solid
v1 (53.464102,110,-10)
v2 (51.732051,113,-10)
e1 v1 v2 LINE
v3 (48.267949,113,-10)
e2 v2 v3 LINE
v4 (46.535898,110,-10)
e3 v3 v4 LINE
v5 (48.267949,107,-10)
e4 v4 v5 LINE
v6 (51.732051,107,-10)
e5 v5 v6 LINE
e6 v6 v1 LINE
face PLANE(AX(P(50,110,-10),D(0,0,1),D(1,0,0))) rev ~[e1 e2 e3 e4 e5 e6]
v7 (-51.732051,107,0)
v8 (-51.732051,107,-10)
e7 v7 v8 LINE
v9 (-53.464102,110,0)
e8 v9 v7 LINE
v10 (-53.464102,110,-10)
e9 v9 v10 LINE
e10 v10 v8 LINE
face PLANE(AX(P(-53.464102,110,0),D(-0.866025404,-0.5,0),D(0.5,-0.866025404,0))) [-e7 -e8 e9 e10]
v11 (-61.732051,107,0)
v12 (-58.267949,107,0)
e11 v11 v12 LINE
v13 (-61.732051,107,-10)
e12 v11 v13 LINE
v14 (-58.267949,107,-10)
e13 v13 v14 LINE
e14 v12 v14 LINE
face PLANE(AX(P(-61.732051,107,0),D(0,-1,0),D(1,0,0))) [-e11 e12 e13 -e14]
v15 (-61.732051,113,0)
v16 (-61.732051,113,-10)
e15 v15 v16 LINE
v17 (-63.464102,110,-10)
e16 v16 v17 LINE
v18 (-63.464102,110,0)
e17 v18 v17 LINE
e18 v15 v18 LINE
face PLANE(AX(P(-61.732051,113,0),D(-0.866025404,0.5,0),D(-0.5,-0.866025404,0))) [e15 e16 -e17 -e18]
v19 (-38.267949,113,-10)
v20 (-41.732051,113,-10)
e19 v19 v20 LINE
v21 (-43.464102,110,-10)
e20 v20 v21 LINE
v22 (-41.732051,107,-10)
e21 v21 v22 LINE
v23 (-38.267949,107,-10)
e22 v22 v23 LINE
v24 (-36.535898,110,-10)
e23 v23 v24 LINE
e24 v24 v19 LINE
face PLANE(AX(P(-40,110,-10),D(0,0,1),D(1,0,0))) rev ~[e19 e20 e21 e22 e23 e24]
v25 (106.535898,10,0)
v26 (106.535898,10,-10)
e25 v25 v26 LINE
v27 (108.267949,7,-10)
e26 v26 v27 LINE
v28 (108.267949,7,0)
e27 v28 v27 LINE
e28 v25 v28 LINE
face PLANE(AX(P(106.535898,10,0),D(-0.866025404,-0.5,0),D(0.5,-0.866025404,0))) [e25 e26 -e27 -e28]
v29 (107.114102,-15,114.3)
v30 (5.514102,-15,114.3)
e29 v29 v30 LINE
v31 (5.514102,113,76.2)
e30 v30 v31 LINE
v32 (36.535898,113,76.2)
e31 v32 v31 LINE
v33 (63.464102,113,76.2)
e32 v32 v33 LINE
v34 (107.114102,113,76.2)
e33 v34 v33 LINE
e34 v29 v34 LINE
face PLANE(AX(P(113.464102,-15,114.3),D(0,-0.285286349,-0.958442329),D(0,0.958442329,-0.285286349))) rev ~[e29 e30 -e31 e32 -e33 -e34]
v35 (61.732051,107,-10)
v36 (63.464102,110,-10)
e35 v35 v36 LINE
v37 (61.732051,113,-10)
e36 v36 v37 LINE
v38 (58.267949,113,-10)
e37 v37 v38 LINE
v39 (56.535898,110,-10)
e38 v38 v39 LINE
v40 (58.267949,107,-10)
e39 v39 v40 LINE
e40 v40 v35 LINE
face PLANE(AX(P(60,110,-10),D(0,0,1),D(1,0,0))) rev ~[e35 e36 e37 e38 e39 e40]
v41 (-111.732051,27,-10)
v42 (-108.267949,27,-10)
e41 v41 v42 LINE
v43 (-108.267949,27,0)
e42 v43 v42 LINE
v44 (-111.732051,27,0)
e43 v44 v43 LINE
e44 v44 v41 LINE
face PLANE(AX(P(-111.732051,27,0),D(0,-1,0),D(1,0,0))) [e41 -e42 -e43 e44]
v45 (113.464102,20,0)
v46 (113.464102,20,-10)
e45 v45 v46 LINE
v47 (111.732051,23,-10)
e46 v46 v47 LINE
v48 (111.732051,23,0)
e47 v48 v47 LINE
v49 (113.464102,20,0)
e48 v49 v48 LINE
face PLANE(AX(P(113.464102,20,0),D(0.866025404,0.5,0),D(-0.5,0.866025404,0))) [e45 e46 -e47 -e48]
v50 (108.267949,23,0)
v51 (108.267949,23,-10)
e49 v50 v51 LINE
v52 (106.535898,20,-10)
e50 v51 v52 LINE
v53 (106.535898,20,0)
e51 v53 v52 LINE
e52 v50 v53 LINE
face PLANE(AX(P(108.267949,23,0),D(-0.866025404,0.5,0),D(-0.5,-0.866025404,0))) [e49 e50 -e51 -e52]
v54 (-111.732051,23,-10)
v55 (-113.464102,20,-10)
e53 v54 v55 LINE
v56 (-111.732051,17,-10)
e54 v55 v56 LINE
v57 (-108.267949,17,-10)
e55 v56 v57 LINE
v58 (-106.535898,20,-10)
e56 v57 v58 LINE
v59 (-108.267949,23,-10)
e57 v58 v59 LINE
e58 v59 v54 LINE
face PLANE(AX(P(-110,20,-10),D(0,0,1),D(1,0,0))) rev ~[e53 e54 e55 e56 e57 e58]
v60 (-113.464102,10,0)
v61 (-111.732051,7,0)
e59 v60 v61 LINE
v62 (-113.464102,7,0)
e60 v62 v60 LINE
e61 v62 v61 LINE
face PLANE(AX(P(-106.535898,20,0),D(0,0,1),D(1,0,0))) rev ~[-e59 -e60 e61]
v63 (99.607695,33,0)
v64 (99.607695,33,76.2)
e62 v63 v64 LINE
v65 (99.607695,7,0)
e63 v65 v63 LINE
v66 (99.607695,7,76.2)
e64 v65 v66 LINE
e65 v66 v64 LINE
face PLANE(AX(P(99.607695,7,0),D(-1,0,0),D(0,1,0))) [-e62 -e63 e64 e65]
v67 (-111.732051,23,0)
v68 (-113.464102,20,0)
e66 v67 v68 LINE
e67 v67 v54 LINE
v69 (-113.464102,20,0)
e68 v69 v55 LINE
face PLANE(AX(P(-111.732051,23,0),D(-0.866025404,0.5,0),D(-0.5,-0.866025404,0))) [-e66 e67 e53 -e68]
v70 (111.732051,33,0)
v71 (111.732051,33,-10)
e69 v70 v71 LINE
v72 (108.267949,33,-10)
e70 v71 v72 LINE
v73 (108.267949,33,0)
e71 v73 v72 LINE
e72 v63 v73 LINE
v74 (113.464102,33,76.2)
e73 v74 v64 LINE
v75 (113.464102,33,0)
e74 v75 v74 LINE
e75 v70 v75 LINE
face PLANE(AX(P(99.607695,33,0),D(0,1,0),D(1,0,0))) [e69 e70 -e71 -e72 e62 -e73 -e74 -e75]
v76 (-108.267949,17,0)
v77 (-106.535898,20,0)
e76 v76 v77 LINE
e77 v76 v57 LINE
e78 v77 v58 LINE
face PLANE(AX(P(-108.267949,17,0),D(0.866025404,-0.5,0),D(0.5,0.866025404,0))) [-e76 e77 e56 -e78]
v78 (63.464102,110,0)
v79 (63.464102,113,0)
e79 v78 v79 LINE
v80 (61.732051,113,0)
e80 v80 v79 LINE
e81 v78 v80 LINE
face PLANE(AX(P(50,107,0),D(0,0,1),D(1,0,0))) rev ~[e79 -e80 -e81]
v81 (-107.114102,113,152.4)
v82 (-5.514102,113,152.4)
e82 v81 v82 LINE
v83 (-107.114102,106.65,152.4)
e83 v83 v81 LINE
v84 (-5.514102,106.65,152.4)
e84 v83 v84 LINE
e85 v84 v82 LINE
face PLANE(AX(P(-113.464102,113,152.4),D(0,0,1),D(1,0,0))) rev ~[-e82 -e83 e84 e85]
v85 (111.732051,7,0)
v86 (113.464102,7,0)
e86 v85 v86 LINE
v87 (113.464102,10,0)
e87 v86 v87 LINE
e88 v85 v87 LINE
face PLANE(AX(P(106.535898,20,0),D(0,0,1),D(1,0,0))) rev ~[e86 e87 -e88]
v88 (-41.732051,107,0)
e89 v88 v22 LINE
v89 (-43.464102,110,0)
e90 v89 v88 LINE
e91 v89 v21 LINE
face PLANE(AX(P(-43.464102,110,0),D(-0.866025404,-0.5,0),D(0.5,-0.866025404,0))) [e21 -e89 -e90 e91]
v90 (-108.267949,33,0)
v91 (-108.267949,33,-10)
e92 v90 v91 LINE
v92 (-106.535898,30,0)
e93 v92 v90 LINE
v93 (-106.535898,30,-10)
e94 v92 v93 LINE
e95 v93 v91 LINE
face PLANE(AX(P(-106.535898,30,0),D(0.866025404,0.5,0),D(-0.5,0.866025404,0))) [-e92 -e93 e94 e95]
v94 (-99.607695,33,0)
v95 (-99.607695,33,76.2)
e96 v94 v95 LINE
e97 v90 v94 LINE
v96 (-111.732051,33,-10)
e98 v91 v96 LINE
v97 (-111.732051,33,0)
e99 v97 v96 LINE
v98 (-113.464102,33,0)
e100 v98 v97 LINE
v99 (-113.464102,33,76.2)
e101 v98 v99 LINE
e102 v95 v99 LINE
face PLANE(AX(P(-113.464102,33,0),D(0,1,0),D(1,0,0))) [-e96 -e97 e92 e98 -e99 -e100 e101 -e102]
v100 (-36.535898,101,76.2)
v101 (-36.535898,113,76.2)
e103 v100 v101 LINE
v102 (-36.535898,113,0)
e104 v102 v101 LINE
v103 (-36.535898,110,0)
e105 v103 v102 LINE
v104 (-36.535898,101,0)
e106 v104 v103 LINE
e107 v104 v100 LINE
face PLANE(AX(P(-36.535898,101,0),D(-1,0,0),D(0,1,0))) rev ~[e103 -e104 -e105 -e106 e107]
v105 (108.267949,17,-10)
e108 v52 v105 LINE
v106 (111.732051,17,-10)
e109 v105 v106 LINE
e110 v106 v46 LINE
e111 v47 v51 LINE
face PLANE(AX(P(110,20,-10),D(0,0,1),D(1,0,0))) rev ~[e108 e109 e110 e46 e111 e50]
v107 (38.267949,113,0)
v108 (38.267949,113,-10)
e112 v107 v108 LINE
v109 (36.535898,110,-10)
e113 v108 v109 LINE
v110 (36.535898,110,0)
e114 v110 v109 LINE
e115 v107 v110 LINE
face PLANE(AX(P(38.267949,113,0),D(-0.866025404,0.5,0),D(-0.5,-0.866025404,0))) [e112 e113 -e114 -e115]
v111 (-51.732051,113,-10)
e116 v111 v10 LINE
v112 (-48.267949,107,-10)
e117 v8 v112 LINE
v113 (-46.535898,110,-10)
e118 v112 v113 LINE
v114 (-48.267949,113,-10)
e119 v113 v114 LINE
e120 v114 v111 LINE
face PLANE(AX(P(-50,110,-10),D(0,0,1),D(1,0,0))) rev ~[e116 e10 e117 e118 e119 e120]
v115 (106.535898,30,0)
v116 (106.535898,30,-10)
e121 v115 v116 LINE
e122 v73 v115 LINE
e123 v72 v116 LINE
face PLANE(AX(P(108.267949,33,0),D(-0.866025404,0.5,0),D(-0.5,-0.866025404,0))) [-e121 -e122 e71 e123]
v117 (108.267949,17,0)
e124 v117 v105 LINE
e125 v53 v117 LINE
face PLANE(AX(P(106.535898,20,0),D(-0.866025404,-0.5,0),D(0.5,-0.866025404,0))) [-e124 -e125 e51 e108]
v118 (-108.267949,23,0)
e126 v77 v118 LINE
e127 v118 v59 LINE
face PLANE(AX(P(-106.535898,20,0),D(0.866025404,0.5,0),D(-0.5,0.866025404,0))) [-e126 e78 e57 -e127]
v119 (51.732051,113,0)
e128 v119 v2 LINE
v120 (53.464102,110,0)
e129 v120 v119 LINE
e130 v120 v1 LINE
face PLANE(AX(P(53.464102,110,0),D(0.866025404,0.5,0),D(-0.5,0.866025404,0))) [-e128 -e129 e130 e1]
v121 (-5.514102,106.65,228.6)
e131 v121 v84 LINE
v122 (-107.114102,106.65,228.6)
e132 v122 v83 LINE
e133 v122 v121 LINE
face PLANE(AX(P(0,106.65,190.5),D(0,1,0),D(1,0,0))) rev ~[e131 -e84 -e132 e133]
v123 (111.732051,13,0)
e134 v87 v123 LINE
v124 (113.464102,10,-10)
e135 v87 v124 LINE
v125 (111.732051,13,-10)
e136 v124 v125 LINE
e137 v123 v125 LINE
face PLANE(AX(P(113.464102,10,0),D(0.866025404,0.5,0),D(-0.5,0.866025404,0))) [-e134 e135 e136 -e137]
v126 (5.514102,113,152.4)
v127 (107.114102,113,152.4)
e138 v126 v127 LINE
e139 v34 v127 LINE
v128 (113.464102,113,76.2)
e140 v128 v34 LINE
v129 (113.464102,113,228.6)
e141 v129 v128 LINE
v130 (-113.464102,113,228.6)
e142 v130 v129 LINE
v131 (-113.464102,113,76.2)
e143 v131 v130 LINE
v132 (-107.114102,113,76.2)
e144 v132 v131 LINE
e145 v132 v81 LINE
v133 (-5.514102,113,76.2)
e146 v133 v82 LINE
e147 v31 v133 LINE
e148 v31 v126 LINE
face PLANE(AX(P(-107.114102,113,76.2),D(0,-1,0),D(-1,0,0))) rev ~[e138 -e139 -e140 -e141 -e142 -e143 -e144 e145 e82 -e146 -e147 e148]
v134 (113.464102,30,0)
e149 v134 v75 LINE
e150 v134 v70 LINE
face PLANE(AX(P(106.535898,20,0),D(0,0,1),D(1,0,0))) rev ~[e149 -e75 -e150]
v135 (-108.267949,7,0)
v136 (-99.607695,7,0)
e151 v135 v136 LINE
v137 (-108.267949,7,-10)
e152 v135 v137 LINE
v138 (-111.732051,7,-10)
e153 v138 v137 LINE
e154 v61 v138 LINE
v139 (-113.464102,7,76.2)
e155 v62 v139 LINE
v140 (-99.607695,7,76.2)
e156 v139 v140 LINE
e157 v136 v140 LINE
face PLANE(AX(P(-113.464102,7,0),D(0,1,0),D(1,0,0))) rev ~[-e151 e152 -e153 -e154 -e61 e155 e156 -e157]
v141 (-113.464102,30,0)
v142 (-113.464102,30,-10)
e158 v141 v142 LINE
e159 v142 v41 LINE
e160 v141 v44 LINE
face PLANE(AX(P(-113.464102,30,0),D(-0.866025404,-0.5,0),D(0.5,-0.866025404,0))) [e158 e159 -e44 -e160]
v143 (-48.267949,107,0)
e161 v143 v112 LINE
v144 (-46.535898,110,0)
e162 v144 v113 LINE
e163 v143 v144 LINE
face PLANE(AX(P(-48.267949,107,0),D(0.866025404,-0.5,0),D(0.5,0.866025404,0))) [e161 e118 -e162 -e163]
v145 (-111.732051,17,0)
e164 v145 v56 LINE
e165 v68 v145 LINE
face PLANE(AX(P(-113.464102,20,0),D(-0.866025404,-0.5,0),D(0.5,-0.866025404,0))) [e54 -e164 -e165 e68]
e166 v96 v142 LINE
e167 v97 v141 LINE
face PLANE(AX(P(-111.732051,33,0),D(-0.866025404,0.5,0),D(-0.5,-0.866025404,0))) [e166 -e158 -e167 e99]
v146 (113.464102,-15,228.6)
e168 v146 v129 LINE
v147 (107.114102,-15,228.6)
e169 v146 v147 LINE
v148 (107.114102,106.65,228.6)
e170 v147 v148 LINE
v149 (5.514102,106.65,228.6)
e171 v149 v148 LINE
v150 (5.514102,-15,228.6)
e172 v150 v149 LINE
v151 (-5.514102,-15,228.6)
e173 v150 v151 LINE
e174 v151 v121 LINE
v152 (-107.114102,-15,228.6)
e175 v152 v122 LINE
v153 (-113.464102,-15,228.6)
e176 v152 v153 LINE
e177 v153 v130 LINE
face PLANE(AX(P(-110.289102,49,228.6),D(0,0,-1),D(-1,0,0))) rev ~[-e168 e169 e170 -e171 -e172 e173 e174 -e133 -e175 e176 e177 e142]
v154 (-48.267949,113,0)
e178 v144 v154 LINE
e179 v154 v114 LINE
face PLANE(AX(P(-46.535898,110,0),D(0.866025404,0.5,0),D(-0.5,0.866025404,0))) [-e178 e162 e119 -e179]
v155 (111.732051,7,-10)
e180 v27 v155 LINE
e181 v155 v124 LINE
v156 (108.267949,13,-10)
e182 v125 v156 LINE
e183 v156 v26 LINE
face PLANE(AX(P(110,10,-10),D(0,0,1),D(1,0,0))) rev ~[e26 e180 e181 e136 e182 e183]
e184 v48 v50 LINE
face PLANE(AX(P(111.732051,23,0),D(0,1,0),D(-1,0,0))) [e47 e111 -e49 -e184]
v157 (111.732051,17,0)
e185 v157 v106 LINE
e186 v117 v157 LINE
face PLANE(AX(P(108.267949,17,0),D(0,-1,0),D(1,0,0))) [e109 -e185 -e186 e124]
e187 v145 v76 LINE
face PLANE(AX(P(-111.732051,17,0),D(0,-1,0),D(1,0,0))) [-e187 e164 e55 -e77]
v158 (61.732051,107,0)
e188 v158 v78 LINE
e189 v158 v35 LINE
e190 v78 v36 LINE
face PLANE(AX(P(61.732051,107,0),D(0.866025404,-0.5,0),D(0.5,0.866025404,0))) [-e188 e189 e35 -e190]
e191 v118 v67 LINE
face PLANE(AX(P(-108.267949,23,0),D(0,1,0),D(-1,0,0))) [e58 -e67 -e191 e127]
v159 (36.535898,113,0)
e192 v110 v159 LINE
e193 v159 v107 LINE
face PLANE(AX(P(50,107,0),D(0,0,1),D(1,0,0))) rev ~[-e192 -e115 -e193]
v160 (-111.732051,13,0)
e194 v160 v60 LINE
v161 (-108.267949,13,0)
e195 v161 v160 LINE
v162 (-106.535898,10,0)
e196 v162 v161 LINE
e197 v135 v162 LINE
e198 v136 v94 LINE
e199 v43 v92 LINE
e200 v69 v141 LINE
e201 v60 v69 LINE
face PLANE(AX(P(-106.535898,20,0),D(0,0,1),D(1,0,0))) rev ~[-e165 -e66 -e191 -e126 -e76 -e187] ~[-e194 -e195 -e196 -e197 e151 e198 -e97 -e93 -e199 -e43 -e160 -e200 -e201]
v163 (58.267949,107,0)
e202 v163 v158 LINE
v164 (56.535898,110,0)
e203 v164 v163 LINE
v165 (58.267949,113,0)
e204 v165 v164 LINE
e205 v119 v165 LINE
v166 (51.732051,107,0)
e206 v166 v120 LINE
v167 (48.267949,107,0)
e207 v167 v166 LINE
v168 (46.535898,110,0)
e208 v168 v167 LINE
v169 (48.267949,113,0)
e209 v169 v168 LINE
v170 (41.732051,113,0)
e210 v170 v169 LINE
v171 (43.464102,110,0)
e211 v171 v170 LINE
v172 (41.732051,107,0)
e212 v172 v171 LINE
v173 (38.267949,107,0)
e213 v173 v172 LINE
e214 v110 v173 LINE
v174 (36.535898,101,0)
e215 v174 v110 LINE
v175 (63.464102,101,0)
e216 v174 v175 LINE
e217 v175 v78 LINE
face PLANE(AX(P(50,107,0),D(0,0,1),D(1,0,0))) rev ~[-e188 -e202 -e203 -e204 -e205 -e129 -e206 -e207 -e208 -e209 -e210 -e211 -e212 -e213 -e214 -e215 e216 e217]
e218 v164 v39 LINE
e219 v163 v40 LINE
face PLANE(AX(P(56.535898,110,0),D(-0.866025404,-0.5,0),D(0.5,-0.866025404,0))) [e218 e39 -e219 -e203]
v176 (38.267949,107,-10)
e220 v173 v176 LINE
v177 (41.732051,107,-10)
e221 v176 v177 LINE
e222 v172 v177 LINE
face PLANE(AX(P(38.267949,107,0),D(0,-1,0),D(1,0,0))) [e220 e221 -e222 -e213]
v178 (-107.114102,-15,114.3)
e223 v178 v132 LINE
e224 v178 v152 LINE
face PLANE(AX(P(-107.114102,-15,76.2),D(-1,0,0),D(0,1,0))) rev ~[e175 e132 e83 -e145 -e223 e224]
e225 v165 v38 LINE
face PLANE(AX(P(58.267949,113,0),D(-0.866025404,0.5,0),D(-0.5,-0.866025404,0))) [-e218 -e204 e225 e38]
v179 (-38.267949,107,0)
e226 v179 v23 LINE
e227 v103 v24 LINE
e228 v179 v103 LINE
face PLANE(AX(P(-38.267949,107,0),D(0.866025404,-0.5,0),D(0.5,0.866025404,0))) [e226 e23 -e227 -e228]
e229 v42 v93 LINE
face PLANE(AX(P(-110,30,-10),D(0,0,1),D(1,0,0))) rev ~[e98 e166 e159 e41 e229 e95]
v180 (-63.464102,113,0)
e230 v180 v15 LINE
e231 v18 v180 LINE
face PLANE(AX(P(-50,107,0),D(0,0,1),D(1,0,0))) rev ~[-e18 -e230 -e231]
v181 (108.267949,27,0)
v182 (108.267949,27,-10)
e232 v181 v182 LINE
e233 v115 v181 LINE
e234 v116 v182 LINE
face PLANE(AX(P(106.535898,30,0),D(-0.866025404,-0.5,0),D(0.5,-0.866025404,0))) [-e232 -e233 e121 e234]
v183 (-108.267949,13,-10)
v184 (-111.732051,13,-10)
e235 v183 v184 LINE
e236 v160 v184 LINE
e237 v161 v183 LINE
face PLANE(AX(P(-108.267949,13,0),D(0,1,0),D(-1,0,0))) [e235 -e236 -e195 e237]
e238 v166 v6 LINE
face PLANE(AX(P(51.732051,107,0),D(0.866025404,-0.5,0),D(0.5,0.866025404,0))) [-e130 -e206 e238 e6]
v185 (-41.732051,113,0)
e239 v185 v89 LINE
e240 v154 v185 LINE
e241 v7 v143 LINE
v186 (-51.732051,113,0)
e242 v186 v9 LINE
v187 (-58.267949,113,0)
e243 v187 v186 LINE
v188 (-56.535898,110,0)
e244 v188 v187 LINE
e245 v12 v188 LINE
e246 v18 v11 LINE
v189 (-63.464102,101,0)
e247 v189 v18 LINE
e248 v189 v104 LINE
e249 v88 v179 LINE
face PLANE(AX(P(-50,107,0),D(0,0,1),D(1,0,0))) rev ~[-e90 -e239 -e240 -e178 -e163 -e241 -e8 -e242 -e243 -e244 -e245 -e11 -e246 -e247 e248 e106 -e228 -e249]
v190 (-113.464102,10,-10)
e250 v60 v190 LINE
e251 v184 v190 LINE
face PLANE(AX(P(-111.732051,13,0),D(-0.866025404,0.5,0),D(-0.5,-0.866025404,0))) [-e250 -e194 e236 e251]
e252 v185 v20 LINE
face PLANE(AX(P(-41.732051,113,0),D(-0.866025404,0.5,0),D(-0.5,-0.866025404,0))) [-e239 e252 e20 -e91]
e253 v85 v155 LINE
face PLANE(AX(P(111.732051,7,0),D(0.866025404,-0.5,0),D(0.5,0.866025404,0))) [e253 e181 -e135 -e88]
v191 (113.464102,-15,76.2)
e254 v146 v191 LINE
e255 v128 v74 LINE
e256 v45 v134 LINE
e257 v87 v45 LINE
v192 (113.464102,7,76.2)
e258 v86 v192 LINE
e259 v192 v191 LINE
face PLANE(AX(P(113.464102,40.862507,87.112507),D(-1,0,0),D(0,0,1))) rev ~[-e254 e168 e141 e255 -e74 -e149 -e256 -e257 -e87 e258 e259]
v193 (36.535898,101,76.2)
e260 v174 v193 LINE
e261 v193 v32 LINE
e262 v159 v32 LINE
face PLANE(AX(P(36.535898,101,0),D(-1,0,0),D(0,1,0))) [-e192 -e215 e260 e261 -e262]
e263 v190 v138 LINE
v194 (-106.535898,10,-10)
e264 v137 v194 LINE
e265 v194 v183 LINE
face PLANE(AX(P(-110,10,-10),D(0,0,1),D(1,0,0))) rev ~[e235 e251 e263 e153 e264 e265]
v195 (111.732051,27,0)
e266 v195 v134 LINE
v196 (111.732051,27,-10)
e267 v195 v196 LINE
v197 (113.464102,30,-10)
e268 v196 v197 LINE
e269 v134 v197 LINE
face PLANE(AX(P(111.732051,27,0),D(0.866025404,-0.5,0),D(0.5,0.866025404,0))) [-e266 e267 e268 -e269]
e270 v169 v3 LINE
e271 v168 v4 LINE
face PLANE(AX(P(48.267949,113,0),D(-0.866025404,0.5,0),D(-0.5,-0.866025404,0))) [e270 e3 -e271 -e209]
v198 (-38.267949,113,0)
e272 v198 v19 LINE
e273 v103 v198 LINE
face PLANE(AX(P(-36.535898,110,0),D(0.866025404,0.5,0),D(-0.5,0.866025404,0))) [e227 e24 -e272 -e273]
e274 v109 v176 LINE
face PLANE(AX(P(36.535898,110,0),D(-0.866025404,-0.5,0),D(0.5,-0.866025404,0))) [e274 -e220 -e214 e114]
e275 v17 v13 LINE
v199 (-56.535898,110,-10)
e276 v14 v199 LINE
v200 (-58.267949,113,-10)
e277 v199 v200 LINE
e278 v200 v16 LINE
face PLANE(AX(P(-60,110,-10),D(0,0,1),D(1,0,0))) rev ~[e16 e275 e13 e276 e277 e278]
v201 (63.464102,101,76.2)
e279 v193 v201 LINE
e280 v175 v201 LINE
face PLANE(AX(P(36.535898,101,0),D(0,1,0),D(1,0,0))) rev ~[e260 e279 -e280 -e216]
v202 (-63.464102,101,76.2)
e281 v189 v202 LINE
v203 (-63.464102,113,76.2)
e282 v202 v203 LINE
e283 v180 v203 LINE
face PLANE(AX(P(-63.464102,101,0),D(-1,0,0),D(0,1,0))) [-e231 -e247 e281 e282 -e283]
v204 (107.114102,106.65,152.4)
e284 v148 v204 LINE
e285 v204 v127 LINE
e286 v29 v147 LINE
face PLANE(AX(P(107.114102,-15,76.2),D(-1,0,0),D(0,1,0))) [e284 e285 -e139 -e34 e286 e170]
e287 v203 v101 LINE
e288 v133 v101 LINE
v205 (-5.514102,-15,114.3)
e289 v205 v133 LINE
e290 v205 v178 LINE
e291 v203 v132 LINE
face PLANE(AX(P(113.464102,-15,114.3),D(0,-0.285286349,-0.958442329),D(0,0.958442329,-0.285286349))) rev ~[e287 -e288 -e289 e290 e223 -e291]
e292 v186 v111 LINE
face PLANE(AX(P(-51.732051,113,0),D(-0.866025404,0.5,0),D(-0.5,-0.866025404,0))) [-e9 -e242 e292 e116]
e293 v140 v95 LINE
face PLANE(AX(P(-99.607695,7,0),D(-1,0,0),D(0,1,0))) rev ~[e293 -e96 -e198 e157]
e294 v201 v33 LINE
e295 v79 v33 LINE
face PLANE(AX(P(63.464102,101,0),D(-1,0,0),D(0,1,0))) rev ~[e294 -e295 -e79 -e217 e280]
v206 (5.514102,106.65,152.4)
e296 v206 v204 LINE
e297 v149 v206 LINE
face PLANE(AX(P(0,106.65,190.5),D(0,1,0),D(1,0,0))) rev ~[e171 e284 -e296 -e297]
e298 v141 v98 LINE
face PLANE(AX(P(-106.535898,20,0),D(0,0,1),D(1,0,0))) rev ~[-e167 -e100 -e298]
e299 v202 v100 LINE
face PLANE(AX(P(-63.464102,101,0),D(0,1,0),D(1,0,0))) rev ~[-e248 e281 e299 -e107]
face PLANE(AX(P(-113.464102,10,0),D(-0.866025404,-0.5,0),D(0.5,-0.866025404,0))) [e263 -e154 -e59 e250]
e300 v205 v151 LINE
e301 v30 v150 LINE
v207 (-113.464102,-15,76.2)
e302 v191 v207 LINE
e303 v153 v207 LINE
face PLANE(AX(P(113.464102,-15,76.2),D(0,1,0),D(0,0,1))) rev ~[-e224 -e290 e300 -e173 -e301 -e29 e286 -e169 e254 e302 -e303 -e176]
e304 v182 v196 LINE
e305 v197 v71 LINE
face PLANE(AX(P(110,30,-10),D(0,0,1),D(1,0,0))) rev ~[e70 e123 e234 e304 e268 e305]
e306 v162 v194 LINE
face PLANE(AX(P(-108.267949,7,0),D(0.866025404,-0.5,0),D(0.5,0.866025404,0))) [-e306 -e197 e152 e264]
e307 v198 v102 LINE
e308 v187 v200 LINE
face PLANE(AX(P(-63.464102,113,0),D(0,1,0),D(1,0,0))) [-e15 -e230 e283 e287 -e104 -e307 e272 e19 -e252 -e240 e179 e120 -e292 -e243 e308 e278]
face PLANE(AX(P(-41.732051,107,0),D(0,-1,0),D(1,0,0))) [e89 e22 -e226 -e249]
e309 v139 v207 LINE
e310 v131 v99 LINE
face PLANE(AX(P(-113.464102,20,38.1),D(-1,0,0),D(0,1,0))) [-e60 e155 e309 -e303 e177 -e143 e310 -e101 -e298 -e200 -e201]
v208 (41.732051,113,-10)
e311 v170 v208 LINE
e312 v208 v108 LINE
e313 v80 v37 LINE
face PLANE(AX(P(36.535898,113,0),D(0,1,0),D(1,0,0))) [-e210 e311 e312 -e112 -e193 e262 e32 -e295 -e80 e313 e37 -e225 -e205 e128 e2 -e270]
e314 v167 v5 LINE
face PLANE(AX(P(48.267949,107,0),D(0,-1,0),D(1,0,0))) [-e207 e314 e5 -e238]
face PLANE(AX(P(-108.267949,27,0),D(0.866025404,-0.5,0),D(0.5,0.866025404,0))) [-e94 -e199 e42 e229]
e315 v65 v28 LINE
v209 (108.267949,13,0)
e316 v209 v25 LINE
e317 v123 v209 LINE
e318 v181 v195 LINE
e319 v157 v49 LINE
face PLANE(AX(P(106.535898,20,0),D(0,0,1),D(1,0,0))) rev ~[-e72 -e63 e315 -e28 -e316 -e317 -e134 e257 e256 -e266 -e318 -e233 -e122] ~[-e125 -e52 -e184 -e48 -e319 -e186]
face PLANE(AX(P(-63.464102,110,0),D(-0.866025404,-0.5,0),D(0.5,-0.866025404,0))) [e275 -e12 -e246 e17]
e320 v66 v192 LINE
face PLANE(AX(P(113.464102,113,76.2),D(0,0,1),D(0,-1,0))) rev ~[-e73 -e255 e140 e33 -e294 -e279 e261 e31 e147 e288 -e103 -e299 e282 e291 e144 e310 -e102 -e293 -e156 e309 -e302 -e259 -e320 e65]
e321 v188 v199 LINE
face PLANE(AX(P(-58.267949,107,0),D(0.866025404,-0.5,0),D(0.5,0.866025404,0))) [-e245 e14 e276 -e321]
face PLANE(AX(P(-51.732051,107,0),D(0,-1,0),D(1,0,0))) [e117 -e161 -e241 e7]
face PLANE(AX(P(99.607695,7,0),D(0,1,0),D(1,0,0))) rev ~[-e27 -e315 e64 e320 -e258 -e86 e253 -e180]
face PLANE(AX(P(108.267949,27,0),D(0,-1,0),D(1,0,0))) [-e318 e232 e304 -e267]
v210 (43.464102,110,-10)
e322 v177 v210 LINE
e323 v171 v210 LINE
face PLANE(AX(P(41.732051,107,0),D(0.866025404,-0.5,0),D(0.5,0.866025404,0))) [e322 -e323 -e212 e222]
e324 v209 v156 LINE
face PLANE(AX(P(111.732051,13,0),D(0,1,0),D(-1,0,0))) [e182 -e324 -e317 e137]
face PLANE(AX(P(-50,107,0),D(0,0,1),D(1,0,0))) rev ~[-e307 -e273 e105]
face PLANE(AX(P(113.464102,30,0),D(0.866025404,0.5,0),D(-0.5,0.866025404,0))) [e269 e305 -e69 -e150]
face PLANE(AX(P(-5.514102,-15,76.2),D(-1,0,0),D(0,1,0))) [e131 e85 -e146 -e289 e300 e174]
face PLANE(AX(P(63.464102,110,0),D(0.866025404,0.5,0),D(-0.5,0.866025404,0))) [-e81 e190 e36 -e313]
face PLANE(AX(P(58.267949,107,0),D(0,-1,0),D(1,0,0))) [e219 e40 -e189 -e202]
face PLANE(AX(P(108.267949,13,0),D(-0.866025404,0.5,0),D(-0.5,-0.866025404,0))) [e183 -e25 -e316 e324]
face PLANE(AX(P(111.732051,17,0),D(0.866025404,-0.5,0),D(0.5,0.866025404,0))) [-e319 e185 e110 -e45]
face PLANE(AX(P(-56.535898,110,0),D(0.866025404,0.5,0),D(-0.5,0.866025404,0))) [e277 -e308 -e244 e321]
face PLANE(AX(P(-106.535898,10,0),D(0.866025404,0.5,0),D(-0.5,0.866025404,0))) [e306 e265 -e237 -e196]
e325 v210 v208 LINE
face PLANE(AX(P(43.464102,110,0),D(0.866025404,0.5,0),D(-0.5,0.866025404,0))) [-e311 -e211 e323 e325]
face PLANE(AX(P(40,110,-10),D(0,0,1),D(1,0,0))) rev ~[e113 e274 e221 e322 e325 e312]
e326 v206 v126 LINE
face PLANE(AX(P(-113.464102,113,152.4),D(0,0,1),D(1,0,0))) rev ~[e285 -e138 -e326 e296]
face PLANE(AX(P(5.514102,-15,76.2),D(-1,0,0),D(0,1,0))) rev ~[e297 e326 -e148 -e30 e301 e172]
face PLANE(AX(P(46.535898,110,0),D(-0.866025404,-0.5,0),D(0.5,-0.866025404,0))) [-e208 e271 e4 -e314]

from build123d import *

# Parameters (mm, degrees)
BOSS_EXTRUDE5_DEPTH    = 10
BOSS_EXTRUDE5_2_DEPTH  = 10
BOSS_EXTRUDE5_3_DEPTH  = 10
BOSS_EXTRUDE5_4_DEPTH  = 10
BOSS_EXTRUDE5_5_DEPTH  = 10
BOSS_EXTRUDE5_6_DEPTH  = 10
BOSS_EXTRUDE5_7_DEPTH  = 10
BOSS_EXTRUDE5_8_DEPTH  = 10
BOSS_EXTRUDE5_9_DEPTH  = 10
BOSS_EXTRUDE5_10_DEPTH = 10
BOSS_EXTRUDE5_11_DEPTH = 10
BOSS_EXTRUDE5_12_DEPTH = 10
SKETCH5_W              = 13.85640646
SKETCH5_H              = 26
SKETCH5_W_2            = 26.92820323
SKETCH5_H_2            = 12
BOSS_EXTRUDE8_DEPTH    = 76.2
BOSS_EXTRUDE9_REACH    = 266.711
SKETCH9_W              = 6.35
SKETCH9_H              = 128.000000074
SKETCH9_W_2            = 11.02820323
BOSS_EXTRUDE10_DEPTH   = 152.4
SKETCH11_W             = 226.92820323
SKETCH11_H             = 76.2
BOSS_EXTRUDE11_DEPTH   = 6.35


with BuildPart() as part:
    # Sketch2 → Boss-Extrude5 (new body)
    with BuildSketch(Plane.XY):
        Polygon((-111.732050808, 13), (-113.464101615, 10), (-111.732050808, 7), (-108.267949192, 7), (-106.535898385, 10), (-108.267949192, 13), align=None)
    extrude(amount=-BOSS_EXTRUDE5_DEPTH)



with BuildPart() as body_2:
    # Sketch2 → Boss-Extrude5 2 (new body)
    with BuildSketch(Plane.XY):
        Polygon((-111.732050808, 23), (-113.464101615, 20), (-111.732050808, 17), (-108.267949192, 17), (-106.535898385, 20), (-108.267949192, 23), align=None)
    extrude(amount=-BOSS_EXTRUDE5_2_DEPTH)


with BuildPart() as body_3:
    # Sketch2 → Boss-Extrude5 3 (new body)
    with BuildSketch(Plane.XY):
        Polygon((-111.732050808, 33), (-113.464101615, 30), (-111.732050808, 27), (-108.267949192, 27), (-106.535898385, 30), (-108.267949192, 33), align=None)
    extrude(amount=-BOSS_EXTRUDE5_3_DEPTH)


with BuildPart() as body_4:
    # Sketch2 → Boss-Extrude5 4 (new body)
    with BuildSketch(Plane.XY):
        Polygon((111.732050808, 27), (113.464101615, 30), (111.732050808, 33), (108.267949192, 33), (106.535898385, 30), (108.267949192, 27), align=None)
    extrude(amount=-BOSS_EXTRUDE5_4_DEPTH)


with BuildPart() as body_5:
    # Sketch2 → Boss-Extrude5 5 (new body)
    with BuildSketch(Plane.XY):
        Polygon((111.732050808, 17), (113.464101615, 20), (111.732050808, 23), (108.267949192, 23), (106.535898385, 20), (108.267949192, 17), align=None)
    extrude(amount=-BOSS_EXTRUDE5_5_DEPTH)


with BuildPart() as body_6:
    # Sketch2 → Boss-Extrude5 6 (new body)
    with BuildSketch(Plane.XY):
        Polygon((111.732050808, 7), (113.464101615, 10), (111.732050808, 13), (108.267949192, 13), (106.535898385, 10), (108.267949192, 7), align=None)
    extrude(amount=-BOSS_EXTRUDE5_6_DEPTH)


with BuildPart() as body_7:
    # Sketch2 → Boss-Extrude5 7 (new body)
    with BuildSketch(Plane.XY):
        Polygon((61.732050808, 107), (63.464101615, 110), (61.732050808, 113), (58.267949192, 113), (56.535898385, 110), (58.267949192, 107), align=None)
    extrude(amount=-BOSS_EXTRUDE5_7_DEPTH)


with BuildPart() as body_8:
    # Sketch2 → Boss-Extrude5 8 (new body)
    with BuildSketch(Plane.XY):
        Polygon((51.732050808, 107), (53.464101615, 110), (51.732050808, 113), (48.267949192, 113), (46.535898385, 110), (48.267949192, 107), align=None)
    extrude(amount=-BOSS_EXTRUDE5_8_DEPTH)


with BuildPart() as body_9:
    # Sketch2 → Boss-Extrude5 9 (new body)
    with BuildSketch(Plane.XY):
        Polygon((41.732050808, 107), (43.464101615, 110), (41.732050808, 113), (38.267949192, 113), (36.535898385, 110), (38.267949192, 107), align=None)
    extrude(amount=-BOSS_EXTRUDE5_9_DEPTH)


with BuildPart() as body_10:
    # Sketch2 → Boss-Extrude5 10 (new body)
    with BuildSketch(Plane.XY):
        Polygon((-38.267949192, 107), (-36.535898385, 110), (-38.267949192, 113), (-41.732050808, 113), (-43.464101615, 110), (-41.732050808, 107), align=None)
    extrude(amount=-BOSS_EXTRUDE5_10_DEPTH)


with BuildPart() as body_11:
    # Sketch2 → Boss-Extrude5 11 (new body)
    with BuildSketch(Plane.XY):
        Polygon((-48.267949192, 107), (-46.535898385, 110), (-48.267949192, 113), (-51.732050808, 113), (-53.464101615, 110), (-51.732050808, 107), align=None)
    extrude(amount=-BOSS_EXTRUDE5_11_DEPTH)


with BuildPart() as body_12:
    # Sketch2 → Boss-Extrude5 12 (new body)
    with BuildSketch(Plane.XY):
        Polygon((-58.267949192, 107), (-56.535898385, 110), (-58.267949192, 113), (-61.732050808, 113), (-63.464101615, 110), (-61.732050808, 107), align=None)
    extrude(amount=-BOSS_EXTRUDE5_12_DEPTH)


with BuildPart() as part_1:
    add(part.part)

    add(body_2.part)  # Boss-Extrude8 merges body 2

    add(body_3.part)  # Boss-Extrude8 merges body 3

    add(body_4.part)  # Boss-Extrude8 merges body 4

    add(body_5.part)  # Boss-Extrude8 merges body 5

    add(body_6.part)  # Boss-Extrude8 merges body 6

    add(body_7.part)  # Boss-Extrude8 merges body 7

    add(body_8.part)  # Boss-Extrude8 merges body 8

    add(body_9.part)  # Boss-Extrude8 merges body 9

    add(body_10.part)  # Boss-Extrude8 merges body 10

    add(body_11.part)  # Boss-Extrude8 merges body 11

    add(body_12.part)  # Boss-Extrude8 merges body 12
    # Sketch5 → Boss-Extrude8 (add)
    with BuildSketch(Plane.XY):
        with Locations((-106.535898385, 20)):
            Rectangle(SKETCH5_W, SKETCH5_H)
        with Locations((-50, 107)):
            Rectangle(SKETCH5_W_2, SKETCH5_H_2)
        with Locations((50, 107)):
            Rectangle(SKETCH5_W_2, SKETCH5_H_2)
        with Locations((106.535898385, 20)):
            Rectangle(SKETCH5_W, SKETCH5_H)
    extrude(amount=BOSS_EXTRUDE8_DEPTH)

    # Boss-Extrude9: up to this face of the body (flat: up to its plane)
    boss_extrude9_end = Plane(part_1.part.faces().sort_by_distance((-113.464101615, 20, 38.1))[0])
    # Sketch8 → Boss-Extrude9 (add, up to the picked face)
    with BuildSketch(Plane(origin=(113.464101615, 0, 0), x_dir=(0, 0, -1), z_dir=(1, 0, 0)), mode=Mode.PRIVATE) as boss_extrude9_sk1:
        Polygon((-76.2, 113), (-76.2, -15.000000074), (-114.3, -15.000000074), align=None)
    boss_extrude9_tool1 = split(extrude(boss_extrude9_sk1.sketch, amount=-BOSS_EXTRUDE9_REACH, mode=Mode.PRIVATE), bisect_by=boss_extrude9_end, keep=Keep.BOTH, mode=Mode.PRIVATE)
    add(boss_extrude9_tool1.solids().sort_by(Axis((113.464102, 27.666667, 88.9), (-1, 0, 0)))[0])

    # Sketch9 → Boss-Extrude10 (add)
    with BuildSketch(Plane(origin=(0, 0, 76.2), x_dir=(-1, 0, 0), z_dir=(0, 0, -1))):
        with Locations((-110.289101615, 48.999999963)):
            Rectangle(SKETCH9_W, SKETCH9_H)
        with Locations((110.289101615, 48.999999963)):
            Rectangle(SKETCH9_W, SKETCH9_H)
        with Locations((0, 48.999999963)):
            Rectangle(SKETCH9_W_2, SKETCH9_H)
    extrude(amount=-BOSS_EXTRUDE10_DEPTH)

    # Sketch11 → Boss-Extrude11 (add)
    with BuildSketch(Plane(origin=(0, 113, 0), x_dir=(1, 0, 0), z_dir=(0, 1, 0))):
        with Locations((0, -190.5)):
            Rectangle(SKETCH11_W, SKETCH11_H)
    extrude(amount=-BOSS_EXTRUDE11_DEPTH)


solid = part_1.part
